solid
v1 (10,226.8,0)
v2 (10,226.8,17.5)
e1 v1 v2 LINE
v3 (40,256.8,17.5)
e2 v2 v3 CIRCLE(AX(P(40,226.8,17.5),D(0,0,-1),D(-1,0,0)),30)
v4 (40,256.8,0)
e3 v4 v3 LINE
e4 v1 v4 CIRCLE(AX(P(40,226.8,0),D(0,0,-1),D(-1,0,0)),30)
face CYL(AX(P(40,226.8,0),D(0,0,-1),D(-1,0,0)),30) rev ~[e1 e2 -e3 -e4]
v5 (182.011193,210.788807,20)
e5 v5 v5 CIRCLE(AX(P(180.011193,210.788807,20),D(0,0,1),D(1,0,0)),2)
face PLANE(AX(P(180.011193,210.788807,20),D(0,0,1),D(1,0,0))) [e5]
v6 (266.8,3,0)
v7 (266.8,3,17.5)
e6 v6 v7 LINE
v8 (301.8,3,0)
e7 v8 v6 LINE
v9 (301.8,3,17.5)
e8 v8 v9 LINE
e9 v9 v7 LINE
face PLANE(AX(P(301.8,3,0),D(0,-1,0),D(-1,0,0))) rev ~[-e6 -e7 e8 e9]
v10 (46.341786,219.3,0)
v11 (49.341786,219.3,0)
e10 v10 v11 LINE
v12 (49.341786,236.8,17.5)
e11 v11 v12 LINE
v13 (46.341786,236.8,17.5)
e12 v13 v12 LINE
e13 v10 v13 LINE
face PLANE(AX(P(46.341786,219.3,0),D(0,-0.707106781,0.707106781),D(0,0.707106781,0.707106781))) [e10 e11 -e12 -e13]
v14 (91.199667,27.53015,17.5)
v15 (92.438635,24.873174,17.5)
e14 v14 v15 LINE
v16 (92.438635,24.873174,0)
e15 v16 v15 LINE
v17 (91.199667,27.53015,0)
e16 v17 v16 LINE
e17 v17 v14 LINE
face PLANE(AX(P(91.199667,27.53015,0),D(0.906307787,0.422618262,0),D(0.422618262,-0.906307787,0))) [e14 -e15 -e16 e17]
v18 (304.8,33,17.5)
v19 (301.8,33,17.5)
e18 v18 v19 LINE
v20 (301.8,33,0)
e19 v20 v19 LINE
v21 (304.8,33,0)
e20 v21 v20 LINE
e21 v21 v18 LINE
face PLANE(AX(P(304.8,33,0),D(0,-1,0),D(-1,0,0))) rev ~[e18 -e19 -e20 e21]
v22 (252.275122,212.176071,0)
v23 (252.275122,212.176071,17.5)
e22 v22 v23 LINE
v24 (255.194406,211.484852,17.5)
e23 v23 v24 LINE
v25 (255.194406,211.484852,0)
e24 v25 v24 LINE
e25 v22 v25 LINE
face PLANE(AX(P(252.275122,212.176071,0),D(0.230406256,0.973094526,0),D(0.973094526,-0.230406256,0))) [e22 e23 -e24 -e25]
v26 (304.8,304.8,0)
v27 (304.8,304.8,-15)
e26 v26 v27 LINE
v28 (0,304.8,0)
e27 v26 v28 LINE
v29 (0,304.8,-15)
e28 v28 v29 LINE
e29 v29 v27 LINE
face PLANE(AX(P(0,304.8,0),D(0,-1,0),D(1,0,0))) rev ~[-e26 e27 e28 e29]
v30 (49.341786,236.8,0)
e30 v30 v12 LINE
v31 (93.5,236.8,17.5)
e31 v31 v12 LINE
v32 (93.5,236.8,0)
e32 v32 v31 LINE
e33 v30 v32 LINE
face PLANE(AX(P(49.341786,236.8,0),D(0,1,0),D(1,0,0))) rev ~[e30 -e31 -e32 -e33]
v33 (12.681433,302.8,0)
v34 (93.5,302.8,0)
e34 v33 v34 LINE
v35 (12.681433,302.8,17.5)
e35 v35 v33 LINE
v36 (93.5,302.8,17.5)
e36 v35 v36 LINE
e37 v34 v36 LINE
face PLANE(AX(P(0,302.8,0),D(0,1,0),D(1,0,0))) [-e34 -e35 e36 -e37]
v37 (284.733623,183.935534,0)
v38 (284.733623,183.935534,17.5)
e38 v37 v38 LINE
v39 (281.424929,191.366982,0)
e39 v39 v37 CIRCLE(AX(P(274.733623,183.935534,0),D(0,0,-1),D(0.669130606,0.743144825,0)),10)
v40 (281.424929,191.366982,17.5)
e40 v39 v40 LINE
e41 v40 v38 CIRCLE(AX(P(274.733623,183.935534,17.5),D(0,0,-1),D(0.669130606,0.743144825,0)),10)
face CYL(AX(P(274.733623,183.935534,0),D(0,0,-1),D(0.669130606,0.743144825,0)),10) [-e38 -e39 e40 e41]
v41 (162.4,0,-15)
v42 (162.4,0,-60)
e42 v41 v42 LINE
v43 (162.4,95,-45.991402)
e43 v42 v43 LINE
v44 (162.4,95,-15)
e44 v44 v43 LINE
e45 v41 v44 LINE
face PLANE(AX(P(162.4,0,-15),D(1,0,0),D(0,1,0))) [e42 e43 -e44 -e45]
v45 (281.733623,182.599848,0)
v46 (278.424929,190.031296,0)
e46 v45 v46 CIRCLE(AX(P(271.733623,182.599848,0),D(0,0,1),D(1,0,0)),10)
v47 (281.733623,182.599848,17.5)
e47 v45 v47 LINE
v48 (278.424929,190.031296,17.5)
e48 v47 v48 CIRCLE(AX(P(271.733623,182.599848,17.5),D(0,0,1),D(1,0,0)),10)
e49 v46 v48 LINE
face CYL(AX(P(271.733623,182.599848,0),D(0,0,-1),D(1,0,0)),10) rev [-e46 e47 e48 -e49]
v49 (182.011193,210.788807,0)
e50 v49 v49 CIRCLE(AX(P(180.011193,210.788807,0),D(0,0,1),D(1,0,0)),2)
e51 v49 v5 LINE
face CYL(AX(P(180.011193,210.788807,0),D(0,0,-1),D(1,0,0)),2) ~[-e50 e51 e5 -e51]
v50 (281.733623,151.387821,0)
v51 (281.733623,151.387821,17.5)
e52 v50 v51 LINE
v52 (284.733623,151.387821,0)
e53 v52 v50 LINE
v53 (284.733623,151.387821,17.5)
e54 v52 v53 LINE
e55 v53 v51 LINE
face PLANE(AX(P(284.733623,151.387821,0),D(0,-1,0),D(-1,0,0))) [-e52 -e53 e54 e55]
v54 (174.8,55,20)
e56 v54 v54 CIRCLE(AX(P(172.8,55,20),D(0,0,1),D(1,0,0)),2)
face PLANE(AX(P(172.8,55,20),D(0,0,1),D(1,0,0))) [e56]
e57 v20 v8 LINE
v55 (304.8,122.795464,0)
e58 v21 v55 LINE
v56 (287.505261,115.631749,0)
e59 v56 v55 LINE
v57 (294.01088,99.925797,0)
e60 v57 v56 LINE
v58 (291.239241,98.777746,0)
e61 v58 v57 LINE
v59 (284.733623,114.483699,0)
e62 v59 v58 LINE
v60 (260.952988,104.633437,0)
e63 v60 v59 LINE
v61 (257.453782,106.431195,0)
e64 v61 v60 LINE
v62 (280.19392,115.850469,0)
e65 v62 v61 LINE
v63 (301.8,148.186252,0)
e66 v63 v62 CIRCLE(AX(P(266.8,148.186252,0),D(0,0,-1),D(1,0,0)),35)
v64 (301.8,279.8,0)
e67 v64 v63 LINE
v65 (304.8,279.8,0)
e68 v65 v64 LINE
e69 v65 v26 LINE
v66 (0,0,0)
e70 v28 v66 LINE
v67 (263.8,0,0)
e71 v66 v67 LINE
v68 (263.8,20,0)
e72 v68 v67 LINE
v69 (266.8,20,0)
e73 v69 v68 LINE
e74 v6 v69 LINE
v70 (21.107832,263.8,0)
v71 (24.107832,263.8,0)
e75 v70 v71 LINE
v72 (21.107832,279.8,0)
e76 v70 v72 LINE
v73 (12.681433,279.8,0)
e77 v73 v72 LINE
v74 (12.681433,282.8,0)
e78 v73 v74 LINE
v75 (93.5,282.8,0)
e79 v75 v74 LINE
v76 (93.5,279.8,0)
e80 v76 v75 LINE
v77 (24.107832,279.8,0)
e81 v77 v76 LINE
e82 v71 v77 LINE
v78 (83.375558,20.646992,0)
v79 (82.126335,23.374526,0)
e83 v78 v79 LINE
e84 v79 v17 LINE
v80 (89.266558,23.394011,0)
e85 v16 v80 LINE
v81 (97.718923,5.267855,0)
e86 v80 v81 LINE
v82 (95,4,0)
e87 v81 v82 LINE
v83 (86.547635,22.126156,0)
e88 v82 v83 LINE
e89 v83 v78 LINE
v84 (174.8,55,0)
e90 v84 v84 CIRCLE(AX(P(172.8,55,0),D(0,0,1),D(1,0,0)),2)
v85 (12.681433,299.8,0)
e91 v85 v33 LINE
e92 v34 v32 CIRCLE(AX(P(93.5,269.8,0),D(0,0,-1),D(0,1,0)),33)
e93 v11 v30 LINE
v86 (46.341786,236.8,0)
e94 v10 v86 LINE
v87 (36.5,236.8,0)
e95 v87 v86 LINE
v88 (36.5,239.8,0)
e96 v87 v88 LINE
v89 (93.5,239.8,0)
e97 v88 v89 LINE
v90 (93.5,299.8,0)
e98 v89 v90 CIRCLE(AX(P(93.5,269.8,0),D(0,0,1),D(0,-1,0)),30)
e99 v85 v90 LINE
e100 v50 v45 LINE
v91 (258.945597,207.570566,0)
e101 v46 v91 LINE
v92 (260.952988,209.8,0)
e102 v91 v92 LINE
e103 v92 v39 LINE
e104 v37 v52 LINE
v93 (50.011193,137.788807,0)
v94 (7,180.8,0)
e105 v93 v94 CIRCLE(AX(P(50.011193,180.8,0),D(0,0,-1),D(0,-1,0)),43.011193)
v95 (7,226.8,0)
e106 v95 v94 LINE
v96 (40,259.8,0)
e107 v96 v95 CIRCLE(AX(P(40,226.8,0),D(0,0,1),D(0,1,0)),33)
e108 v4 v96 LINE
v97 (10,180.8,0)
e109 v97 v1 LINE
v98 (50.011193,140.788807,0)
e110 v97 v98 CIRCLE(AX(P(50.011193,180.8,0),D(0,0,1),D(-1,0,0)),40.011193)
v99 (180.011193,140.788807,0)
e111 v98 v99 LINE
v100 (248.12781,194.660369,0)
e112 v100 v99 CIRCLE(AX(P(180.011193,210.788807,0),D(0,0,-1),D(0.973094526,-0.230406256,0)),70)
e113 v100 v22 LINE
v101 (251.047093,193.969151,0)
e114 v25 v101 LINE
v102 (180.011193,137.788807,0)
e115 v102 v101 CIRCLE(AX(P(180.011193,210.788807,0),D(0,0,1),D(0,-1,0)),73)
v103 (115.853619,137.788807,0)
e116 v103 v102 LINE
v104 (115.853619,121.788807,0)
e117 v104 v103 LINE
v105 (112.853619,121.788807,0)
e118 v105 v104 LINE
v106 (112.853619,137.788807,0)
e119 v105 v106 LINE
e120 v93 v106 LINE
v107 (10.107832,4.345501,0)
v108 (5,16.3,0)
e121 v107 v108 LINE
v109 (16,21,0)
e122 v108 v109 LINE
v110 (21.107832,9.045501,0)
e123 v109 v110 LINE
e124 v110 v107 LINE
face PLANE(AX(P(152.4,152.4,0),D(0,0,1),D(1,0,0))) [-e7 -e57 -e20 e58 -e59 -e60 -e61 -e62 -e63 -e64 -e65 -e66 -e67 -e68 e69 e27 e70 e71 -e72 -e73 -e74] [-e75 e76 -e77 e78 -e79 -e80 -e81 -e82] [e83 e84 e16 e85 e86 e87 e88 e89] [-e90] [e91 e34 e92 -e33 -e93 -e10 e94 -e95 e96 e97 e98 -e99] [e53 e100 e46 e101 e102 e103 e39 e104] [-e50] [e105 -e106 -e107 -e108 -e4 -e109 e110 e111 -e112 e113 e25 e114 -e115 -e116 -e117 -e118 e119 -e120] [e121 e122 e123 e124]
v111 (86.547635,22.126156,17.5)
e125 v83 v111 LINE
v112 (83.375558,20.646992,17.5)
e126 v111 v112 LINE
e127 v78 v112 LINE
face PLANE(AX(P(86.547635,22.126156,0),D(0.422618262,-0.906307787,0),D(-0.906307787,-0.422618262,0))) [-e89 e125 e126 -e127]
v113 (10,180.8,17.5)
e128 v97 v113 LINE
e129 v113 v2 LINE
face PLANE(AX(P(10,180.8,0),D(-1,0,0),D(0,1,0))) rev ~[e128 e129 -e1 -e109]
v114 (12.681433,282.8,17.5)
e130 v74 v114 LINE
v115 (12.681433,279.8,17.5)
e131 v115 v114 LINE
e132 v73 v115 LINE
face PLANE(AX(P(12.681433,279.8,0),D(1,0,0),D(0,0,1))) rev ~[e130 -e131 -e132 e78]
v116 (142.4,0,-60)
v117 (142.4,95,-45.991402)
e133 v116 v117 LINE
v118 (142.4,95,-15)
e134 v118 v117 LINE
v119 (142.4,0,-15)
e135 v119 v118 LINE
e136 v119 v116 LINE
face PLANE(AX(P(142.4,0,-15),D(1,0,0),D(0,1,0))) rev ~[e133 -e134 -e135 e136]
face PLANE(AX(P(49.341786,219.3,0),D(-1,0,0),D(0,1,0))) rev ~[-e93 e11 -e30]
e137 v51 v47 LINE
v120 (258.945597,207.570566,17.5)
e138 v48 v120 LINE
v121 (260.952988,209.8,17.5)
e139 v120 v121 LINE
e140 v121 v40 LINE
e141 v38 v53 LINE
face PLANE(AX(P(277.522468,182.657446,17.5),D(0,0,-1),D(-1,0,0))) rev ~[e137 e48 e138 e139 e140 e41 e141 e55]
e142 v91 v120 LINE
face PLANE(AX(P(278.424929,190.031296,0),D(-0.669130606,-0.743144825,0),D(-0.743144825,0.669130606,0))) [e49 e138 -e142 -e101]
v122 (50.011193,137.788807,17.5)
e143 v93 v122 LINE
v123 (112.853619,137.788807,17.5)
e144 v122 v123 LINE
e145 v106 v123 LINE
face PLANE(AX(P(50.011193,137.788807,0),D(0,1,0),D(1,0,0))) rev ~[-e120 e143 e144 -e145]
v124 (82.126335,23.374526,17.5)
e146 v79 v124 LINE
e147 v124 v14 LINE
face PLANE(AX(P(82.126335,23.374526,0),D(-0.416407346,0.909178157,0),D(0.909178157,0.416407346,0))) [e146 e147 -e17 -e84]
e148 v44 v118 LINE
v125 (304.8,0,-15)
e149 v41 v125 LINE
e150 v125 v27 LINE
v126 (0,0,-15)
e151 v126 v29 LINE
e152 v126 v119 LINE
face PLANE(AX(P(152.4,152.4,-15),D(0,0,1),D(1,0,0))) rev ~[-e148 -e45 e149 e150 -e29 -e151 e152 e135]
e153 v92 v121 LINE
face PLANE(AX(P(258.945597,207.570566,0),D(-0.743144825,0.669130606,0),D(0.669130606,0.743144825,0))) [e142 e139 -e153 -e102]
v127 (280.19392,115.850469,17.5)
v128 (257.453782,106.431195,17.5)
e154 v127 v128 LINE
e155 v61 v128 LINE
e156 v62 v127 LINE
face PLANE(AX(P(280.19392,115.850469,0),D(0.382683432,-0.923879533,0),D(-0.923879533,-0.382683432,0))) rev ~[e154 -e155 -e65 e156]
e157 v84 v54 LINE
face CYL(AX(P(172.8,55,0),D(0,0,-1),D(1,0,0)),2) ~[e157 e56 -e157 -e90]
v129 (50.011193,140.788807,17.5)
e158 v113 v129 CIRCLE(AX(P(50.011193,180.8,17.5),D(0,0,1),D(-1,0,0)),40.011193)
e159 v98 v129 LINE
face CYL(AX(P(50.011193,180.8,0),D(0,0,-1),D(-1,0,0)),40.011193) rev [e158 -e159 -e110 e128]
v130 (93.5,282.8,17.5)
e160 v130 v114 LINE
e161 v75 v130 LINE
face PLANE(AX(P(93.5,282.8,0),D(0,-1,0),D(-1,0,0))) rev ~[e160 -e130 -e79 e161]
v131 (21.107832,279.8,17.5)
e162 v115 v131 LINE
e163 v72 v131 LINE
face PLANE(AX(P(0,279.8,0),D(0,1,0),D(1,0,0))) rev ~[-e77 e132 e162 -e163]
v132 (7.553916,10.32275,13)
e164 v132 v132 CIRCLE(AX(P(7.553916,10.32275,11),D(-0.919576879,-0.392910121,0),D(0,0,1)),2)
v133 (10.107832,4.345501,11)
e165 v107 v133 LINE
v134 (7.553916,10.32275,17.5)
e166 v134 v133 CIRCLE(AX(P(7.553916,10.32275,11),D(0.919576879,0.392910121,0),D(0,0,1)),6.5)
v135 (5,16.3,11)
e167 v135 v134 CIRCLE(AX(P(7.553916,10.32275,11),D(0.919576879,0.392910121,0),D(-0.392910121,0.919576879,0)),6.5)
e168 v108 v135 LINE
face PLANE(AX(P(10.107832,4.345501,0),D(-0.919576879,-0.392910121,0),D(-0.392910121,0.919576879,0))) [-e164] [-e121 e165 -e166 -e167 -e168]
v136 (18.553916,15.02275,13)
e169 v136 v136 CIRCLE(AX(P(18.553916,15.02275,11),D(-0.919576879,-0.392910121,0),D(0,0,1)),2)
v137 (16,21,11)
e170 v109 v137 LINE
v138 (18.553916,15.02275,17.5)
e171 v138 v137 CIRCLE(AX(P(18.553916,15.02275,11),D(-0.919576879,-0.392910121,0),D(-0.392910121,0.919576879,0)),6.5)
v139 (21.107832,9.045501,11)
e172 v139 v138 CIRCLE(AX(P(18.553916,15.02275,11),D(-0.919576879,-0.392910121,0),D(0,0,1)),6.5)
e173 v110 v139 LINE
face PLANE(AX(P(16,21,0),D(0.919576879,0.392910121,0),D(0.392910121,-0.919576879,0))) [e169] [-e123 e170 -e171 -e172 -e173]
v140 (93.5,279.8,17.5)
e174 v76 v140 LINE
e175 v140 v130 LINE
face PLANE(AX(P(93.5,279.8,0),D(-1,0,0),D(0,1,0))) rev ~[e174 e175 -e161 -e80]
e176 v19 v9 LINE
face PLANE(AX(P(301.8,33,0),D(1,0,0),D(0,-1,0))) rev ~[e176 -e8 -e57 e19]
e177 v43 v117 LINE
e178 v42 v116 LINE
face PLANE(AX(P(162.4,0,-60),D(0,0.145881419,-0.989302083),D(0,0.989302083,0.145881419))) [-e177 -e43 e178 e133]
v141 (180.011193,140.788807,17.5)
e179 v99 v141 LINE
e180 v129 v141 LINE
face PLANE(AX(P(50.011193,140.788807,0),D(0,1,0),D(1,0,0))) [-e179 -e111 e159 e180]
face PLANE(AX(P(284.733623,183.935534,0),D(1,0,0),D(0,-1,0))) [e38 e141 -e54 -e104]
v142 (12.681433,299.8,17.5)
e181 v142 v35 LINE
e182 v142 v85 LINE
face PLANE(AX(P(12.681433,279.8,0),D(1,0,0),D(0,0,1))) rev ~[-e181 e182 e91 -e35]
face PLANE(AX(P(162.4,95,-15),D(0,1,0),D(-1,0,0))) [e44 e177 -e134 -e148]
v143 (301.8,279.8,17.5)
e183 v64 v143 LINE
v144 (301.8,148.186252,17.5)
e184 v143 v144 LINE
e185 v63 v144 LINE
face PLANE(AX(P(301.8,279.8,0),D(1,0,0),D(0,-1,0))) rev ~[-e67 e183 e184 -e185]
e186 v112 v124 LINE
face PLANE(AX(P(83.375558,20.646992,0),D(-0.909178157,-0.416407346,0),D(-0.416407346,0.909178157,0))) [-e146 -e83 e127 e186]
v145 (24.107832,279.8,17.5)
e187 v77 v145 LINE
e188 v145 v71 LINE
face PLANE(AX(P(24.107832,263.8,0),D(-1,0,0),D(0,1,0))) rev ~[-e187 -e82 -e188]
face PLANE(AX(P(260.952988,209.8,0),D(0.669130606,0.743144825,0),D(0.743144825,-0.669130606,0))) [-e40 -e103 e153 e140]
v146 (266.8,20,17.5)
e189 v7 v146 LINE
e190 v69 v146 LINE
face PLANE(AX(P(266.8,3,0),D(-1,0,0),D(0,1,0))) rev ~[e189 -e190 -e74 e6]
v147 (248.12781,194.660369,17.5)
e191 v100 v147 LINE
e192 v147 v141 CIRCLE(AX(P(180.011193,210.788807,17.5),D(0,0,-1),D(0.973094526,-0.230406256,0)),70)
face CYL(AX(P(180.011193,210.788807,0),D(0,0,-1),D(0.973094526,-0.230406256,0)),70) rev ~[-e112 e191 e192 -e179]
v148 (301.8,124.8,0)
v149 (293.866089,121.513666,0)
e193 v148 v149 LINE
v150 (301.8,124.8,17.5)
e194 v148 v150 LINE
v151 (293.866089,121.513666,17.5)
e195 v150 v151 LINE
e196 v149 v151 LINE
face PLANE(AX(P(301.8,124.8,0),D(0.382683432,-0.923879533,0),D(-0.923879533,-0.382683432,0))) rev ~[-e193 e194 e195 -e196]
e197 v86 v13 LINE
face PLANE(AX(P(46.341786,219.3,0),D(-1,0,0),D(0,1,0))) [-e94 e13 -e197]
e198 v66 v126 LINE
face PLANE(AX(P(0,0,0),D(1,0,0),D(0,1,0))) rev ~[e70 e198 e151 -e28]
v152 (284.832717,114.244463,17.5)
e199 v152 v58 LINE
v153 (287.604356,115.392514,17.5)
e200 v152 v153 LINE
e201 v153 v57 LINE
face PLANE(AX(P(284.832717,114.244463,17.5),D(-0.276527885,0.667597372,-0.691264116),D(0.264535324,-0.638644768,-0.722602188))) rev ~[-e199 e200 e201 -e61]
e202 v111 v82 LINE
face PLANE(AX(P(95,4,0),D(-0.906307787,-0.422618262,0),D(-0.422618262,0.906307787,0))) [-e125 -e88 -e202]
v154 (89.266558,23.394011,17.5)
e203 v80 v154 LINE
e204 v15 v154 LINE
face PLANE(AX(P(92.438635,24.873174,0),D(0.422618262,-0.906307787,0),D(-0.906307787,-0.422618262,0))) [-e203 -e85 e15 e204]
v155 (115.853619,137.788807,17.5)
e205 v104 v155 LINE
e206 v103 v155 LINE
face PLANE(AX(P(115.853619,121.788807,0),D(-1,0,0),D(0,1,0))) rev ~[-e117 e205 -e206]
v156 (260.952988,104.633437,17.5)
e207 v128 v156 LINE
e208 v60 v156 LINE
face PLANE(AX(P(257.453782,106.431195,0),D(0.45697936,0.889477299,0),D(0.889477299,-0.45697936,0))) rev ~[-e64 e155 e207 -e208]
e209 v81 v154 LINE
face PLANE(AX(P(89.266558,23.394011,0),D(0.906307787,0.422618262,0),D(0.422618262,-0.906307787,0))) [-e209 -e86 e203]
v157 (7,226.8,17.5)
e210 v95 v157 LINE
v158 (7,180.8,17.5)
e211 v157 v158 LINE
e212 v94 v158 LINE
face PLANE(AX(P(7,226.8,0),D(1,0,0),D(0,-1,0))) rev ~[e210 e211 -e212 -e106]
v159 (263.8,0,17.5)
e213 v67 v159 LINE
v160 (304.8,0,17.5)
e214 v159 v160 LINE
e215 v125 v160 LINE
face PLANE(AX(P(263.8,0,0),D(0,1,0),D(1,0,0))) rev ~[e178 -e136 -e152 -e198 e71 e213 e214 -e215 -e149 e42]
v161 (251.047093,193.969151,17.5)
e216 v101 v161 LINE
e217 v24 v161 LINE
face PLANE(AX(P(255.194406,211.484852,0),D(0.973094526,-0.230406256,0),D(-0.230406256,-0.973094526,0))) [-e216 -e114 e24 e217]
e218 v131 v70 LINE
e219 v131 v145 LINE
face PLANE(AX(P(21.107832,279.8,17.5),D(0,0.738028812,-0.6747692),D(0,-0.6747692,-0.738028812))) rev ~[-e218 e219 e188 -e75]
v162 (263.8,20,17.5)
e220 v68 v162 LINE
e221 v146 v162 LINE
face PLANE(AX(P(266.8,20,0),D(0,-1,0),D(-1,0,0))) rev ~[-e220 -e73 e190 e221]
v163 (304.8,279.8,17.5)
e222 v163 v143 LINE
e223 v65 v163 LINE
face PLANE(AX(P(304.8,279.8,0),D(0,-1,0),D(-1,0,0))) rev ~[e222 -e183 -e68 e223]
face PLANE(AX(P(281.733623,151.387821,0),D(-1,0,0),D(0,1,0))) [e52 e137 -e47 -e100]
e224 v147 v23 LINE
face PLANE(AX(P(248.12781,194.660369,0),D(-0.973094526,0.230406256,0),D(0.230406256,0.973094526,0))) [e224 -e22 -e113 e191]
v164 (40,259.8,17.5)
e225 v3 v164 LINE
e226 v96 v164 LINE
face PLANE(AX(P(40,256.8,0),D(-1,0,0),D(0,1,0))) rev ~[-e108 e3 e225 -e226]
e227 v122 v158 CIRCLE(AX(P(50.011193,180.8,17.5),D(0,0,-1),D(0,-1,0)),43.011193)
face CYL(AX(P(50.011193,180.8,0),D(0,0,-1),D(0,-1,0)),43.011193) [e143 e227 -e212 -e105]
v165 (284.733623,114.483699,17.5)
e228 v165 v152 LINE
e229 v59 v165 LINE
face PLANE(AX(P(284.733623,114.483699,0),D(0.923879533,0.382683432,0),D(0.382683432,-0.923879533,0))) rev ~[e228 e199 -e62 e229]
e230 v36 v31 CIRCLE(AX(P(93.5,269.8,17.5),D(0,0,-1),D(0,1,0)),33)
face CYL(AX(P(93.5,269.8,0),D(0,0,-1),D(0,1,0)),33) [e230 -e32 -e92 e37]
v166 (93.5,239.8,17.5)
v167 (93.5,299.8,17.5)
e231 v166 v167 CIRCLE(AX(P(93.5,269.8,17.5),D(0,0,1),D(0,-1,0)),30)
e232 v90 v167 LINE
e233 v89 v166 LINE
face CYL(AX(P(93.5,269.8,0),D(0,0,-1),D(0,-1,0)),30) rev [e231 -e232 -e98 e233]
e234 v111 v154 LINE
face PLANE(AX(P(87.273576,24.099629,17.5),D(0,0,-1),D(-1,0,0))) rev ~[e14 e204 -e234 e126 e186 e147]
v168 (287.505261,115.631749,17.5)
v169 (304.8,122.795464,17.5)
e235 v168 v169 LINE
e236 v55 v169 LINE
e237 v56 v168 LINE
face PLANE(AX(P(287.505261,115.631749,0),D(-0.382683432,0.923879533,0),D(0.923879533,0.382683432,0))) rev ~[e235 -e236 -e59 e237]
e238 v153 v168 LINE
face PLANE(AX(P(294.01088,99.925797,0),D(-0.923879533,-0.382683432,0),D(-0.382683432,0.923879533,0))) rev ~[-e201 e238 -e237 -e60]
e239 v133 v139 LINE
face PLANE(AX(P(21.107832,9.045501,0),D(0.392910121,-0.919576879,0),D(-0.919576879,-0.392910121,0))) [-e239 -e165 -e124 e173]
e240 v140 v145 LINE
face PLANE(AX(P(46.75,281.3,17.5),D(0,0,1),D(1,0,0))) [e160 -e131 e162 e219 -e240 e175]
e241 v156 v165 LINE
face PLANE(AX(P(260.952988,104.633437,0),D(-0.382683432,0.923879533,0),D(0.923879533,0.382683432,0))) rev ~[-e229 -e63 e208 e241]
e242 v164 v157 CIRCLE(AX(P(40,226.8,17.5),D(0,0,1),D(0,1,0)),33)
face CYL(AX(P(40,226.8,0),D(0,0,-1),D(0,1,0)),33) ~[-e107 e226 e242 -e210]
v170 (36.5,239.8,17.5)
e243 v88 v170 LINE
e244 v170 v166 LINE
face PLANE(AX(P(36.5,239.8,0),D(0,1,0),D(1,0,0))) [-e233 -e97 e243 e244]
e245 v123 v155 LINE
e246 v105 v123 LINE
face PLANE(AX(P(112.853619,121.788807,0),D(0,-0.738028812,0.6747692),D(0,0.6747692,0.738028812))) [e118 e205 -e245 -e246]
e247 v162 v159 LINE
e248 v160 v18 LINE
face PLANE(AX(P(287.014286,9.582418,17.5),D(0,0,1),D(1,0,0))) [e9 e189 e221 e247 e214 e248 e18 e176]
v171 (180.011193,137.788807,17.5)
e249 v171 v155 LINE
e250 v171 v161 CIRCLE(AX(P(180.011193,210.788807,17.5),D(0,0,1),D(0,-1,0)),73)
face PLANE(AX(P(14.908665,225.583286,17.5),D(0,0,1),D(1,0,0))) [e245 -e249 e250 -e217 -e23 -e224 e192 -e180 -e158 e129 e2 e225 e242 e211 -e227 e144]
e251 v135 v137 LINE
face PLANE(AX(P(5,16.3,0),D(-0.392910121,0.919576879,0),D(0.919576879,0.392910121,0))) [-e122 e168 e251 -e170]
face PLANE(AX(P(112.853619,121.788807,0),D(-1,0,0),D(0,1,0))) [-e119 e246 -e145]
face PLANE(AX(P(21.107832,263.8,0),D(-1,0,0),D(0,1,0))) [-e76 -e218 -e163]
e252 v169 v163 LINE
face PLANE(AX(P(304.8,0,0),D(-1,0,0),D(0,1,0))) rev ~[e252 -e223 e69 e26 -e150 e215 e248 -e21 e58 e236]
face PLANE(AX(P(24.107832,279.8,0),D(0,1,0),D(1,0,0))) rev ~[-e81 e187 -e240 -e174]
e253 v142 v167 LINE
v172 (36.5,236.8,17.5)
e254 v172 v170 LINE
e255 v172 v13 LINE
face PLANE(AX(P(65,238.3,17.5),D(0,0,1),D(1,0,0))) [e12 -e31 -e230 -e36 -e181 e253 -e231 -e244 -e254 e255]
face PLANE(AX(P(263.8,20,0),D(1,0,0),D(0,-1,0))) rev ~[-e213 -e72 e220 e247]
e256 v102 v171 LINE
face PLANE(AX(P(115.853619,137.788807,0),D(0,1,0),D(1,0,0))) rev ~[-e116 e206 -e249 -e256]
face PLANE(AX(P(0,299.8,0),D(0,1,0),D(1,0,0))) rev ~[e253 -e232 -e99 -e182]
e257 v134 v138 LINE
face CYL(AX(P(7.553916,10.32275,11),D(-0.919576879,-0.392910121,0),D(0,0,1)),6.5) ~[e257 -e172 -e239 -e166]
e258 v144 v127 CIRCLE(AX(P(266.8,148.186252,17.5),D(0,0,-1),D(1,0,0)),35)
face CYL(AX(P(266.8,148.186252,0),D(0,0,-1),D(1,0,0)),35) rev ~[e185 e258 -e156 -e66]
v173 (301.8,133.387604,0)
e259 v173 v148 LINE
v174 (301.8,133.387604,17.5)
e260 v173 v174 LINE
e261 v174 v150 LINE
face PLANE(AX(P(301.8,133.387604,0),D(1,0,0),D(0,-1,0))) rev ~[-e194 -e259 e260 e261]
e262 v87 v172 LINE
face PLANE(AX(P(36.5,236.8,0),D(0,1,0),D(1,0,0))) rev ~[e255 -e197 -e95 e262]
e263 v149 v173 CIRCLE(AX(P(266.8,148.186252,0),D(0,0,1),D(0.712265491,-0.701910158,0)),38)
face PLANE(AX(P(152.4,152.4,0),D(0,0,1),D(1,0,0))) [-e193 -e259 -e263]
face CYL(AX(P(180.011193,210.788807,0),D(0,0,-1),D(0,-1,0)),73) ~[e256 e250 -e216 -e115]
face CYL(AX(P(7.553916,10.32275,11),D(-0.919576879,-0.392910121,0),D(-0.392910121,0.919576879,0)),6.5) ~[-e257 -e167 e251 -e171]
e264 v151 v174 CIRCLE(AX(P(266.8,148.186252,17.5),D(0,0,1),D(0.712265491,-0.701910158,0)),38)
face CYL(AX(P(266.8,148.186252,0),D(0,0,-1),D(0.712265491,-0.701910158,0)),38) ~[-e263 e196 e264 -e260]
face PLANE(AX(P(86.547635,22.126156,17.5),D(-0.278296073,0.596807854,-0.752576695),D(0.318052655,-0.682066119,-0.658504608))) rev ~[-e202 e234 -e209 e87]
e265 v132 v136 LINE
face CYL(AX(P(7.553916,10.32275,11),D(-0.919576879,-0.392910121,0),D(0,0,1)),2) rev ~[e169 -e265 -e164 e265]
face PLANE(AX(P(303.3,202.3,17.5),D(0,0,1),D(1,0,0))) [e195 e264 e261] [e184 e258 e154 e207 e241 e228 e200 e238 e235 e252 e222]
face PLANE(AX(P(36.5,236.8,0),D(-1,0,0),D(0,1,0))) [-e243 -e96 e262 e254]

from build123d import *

# Parameters (mm, degrees)
SKETCH2_W           = 304.8
SKETCH2_H           = 304.8
BOSS_EXTRUDE1_DEPTH = 15
BOSS_EXTRUDE2_DEPTH = 17.5
CUT_EXTRUDE1_DEPTH  = 17.5
CUT_EXTRUDE2_DEPTH  = 17.5
CUT_EXTRUDE3_DEPTH  = 17.5
CUT_EXTRUDE4_DEPTH  = 17.5
CUT_EXTRUDE5_DEPTH  = 17.5
SKETCH2_5_R         = 2
BOSS_EXTRUDE3_DEPTH = 20
SKETCH8_W           = 20
SKETCH8_H           = 95
BOSS_EXTRUDE4_DEPTH = 45
CUT_EXTRUDE6_DEPTH  = 45
SKETCH11_W          = 12.681432754
SKETCH11_H          = 17.5
CUT_EXTRUDE8_DEPTH  = 35
SKETCH10_R          = 2
CUT_EXTRUDE7_DEPTH  = 45


with BuildPart() as part:
    # Sketch2 → Boss-Extrude1 (new body)
    with BuildSketch(Plane.XY):
        with Locations((152.4, 152.4)):
            Rectangle(SKETCH2_W, SKETCH2_H)
    extrude(amount=-BOSS_EXTRUDE1_DEPTH)

    # Sketch2<3> → Boss-Extrude2 (add)
    # profile 1 of 8: a face of its own
    with BuildSketch(Plane.XY):
        Polygon((93.5, 282.8), (0, 282.8), (0, 279.8), (21.107831574, 279.8), (21.107831574, 263.8), (24.107831574, 263.8), (24.107831574, 279.8), (93.5, 279.8), align=None)
    # profile 2 of 8: a face of its own
    with BuildSketch(Plane.XY):
        with BuildLine():
            Line((0, 302.8), (0, 299.8))
            Line((0, 299.8), (93.5, 299.8))
            ThreePointArc((93.5, 299.8), (123.5, 269.8), (93.5, 239.8))
            Line((93.5, 239.8), (36.5, 239.8))
            Line((36.5, 239.8), (36.5, 236.8))
            Line((36.5, 236.8), (46.34178582, 236.8))
            Line((46.34178582, 236.8), (46.34178582, 219.3))
            Line((46.34178582, 219.3), (49.34178582, 219.3))
            Line((49.34178582, 219.3), (49.34178582, 236.8))
            Line((49.34178582, 236.8), (93.5, 236.8))
            ThreePointArc((93.5, 236.8), (126.5, 269.8), (93.5, 302.8))
            Line((93.5, 302.8), (0, 302.8))
        make_face()
    # profile 3 of 8: a face of its own
    with BuildSketch(Plane.XY):
        Polygon((263.8, 20), (263.8, 0), (304.8, 0), (304.8, 33), (301.8, 33), (301.8, 3), (266.8, 3), (266.8, 20), align=None)
    # profile 4 of 8: a face of its own
    with BuildSketch(Plane.XY):
        with BuildLine():
            Line((304.8, 279.8), (301.8, 279.8))
            Line((301.8, 279.8), (301.8, 148.186252327))
            ThreePointArc((301.8, 148.186252327), (295.901436431, 128.741294171), (280.193920133, 115.850468689))
            Line((280.193920133, 115.850468689), (257.453782439, 106.431195246))
            Line((257.453782439, 106.431195246), (260.952988472, 104.633437242))
            Line((260.952988472, 104.633437242), (284.733622888, 114.483698539))
            Line((284.733622888, 114.483698539), (291.239241238, 98.777746486))
            Line((291.239241238, 98.777746486), (294.010879835, 99.925796783))
            Line((294.010879835, 99.925796783), (287.505261485, 115.631748836))
            Line((287.505261485, 115.631748836), (304.8, 122.795464086))
            Line((304.8, 122.795464086), (304.8, 279.8))
        make_face()
        with BuildLine():
            Line((301.8, 133.38760374), (301.8, 124.8))
            Line((301.8, 124.8), (293.866088671, 121.513666325))
            ThreePointArc((293.866088671, 121.513666325), (298.395845267, 127.074583472), (301.8, 133.38760374))
        make_face(mode=Mode.SUBTRACT)
    # profile 5 of 8: a face of its own
    with BuildSketch(Plane.XY):
        with BuildLine():
            ThreePointArc((10, 226.8), (18.786796564, 248.013203436), (40, 256.8))
            Line((40, 256.8), (40, 259.8))
            ThreePointArc((40, 259.8), (16.665476221, 250.134523779), (7, 226.8))
            Line((7, 226.8), (7, 180.8))
            ThreePointArc((7, 180.8), (19.597686711, 150.386493887), (50.011192824, 137.788807176))
            Line((50.011192824, 137.788807176), (112.853619172, 137.788807176))
            Line((112.853619172, 137.788807176), (112.853619172, 121.788807176))
            Line((112.853619172, 121.788807176), (115.853619172, 121.788807176))
            Line((115.853619172, 121.788807176), (115.853619172, 137.788807176))
            Line((115.853619172, 137.788807176), (180.011192824, 137.788807176))
            ThreePointArc((180.011192824, 137.788807176), (225.294551046, 153.531340693), (251.047093253, 193.969150516))
            Line((251.047093253, 193.969150516), (255.194405854, 211.484851991))
            Line((255.194405854, 211.484851991), (252.275122275, 212.176070758))
            Line((252.275122275, 212.176070758), (248.127809674, 194.660369283))
            ThreePointArc((248.127809674, 194.660369283), (223.433591119, 155.884387261), (180.011192824, 140.788807176))
            Line((180.011192824, 140.788807176), (50.011192824, 140.788807176))
            ThreePointArc((50.011192824, 140.788807176), (21.719007055, 152.507814231), (10, 180.8))
            Line((10, 180.8), (10, 226.8))
        make_face()
    # profile 6 of 8: a face of its own
    with BuildSketch(Plane.XY):
        with BuildLine():
            Line((281.733622888, 151.387820597), (284.733622888, 151.387820597))
            Line((284.733622888, 151.387820597), (284.733622888, 183.935533743))
            ThreePointArc((284.733622888, 183.935533743), (283.869077464, 188.002900174), (281.424928951, 191.366981998))
            Line((281.424928951, 191.366981998), (260.952988472, 209.8))
            Line((260.952988472, 209.8), (258.945596653, 207.570565524))
            Line((258.945596653, 207.570565524), (278.424928951, 190.031295942))
            ThreePointArc((278.424928951, 190.031295942), (280.869077464, 186.667214118), (281.733622888, 182.599847688))
            Line((281.733622888, 182.599847688), (281.733622888, 151.387820597))
        make_face()
    # profile 7 of 8: a face of its own
    with BuildSketch(Plane.XY):
        Polygon((86.547634765, 22.126155741), (95, 4), (97.718923361, 5.267854785), (89.266558126, 23.394010526), (92.438635381, 24.873174442), (91.199667441, 27.530149764), (82.126335472, 23.374526297), (83.375557511, 20.646991825), align=None)
    # profile 8 of 8: a face of its own
    with BuildSketch(Plane.XY):
        Polygon((16, 21), (5, 16.3), (10.107831574, 4.345500571), (21.107831574, 9.045500571), align=None)
    extrude(amount=BOSS_EXTRUDE2_DEPTH)

    # Sketch3 → Cut-Extrude1 (cut)
    with BuildSketch(Plane(origin=(79.564500346, 37.101535829, 0), x_dir=(0, 0, 1), z_dir=(-0.9063077870366483, -0.422618261740703, 0))):
        Polygon((17.5, -16.523503717), (0, -36.523503717), (17.5, -36.523503717), align=None)
    extrude(amount=-CUT_EXTRUDE1_DEPTH, mode=Mode.SUBTRACT)

    # Sketch4 → Cut-Extrude2 (cut)
    with BuildSketch(Plane(origin=(283.511449018, 117.434287271, 0), x_dir=(0, 0, 1), z_dir=(-0.923879532511288, -0.3826834323650868, 0))):
        Polygon((17.5, -3.452640544), (0, -20.19369423), (17.5, -20.19369423), align=None)
    extrude(amount=-CUT_EXTRUDE2_DEPTH, mode=Mode.SUBTRACT)

    # Sketch5 → Cut-Extrude3 (cut)
    with BuildSketch(Plane.ZY.offset(-112.853619172)):
        Polygon((17.5, 137.788807176), (17.5, 121.788807176), (0, 121.788807176), align=None)
    extrude(amount=-CUT_EXTRUDE3_DEPTH, mode=Mode.SUBTRACT)

    # Sketch6 → Cut-Extrude4 (cut)
    with BuildSketch(Plane.ZY.offset(-46.34178582)):
        Polygon((17.5, 236.8), (17.5, 219.3), (0, 219.3), align=None)
    extrude(amount=-CUT_EXTRUDE4_DEPTH, mode=Mode.SUBTRACT)

    # Sketch7 → Cut-Extrude5 (cut)
    with BuildSketch(Plane.ZY.offset(-21.107831574)):
        Polygon((17.5, 279.8), (0, 263.8), (17.5, 263.8), align=None)
    extrude(amount=-CUT_EXTRUDE5_DEPTH, mode=Mode.SUBTRACT)

    # Sketch2<5> → Boss-Extrude3 (add)
    with BuildSketch(Plane.XY):
        with Locations((180.011192824, 210.788807176)):
            Circle(SKETCH2_5_R)
        with Locations((172.8, 55)):
            Circle(SKETCH2_5_R)
    extrude(amount=BOSS_EXTRUDE3_DEPTH)

    # Sketch8 → Boss-Extrude4 (add)
    with BuildSketch(Plane(origin=(0, 0, -15), x_dir=(-1, 0, 0), z_dir=(0, 0, -1))):
        with Locations((-152.4, 47.5)):
            Rectangle(SKETCH8_W, SKETCH8_H)
    extrude(amount=BOSS_EXTRUDE4_DEPTH)

    # Sketch9 → Cut-Extrude6 (cut)
    with BuildSketch(Plane(origin=(162.4, 0, 0), x_dir=(0, 0, -1), z_dir=(1, 0, 0))):
        Polygon((45.99140235, 95), (60, 95), (60, 0), align=None)
    extrude(amount=-CUT_EXTRUDE6_DEPTH, mode=Mode.SUBTRACT)

    # Sketch11 → Cut-Extrude8 (cut)
    with BuildSketch(Plane.XZ.offset(-279.8)):
        with Locations((6.340716377, 8.75)):
            Rectangle(SKETCH11_W, SKETCH11_H)
    extrude(amount=-CUT_EXTRUDE8_DEPTH, mode=Mode.SUBTRACT)

    # Sketch10 → Cut-Extrude7 (cut)
    with BuildSketch(Plane(origin=(10.11747851, 4.322922636, 0), x_dir=(0, 0, 1), z_dir=(-0.9195768791852732, -0.39291012110643525, 0))):
        with BuildLine():
            Line((17.5, 13.024552525), (11, 13.024552525))
            ThreePointArc((11, 13.024552525), (15.596194078, 11.120746603), (17.5, 6.524552525))
            Line((17.5, 6.524552525), (17.5, 13.024552525))
        make_face()
        with BuildLine():
            Line((17.5, 0.024552525), (17.5, 6.524552525))
            ThreePointArc((17.5, 6.524552525), (15.596194078, 1.928358447), (11, 0.024552525))
            Line((11, 0.024552525), (17.5, 0.024552525))
        make_face()
        with Locations((11, 6.524552525)):
            Circle(SKETCH10_R)
    extrude(amount=-CUT_EXTRUDE7_DEPTH, mode=Mode.SUBTRACT)


solid = part.part
